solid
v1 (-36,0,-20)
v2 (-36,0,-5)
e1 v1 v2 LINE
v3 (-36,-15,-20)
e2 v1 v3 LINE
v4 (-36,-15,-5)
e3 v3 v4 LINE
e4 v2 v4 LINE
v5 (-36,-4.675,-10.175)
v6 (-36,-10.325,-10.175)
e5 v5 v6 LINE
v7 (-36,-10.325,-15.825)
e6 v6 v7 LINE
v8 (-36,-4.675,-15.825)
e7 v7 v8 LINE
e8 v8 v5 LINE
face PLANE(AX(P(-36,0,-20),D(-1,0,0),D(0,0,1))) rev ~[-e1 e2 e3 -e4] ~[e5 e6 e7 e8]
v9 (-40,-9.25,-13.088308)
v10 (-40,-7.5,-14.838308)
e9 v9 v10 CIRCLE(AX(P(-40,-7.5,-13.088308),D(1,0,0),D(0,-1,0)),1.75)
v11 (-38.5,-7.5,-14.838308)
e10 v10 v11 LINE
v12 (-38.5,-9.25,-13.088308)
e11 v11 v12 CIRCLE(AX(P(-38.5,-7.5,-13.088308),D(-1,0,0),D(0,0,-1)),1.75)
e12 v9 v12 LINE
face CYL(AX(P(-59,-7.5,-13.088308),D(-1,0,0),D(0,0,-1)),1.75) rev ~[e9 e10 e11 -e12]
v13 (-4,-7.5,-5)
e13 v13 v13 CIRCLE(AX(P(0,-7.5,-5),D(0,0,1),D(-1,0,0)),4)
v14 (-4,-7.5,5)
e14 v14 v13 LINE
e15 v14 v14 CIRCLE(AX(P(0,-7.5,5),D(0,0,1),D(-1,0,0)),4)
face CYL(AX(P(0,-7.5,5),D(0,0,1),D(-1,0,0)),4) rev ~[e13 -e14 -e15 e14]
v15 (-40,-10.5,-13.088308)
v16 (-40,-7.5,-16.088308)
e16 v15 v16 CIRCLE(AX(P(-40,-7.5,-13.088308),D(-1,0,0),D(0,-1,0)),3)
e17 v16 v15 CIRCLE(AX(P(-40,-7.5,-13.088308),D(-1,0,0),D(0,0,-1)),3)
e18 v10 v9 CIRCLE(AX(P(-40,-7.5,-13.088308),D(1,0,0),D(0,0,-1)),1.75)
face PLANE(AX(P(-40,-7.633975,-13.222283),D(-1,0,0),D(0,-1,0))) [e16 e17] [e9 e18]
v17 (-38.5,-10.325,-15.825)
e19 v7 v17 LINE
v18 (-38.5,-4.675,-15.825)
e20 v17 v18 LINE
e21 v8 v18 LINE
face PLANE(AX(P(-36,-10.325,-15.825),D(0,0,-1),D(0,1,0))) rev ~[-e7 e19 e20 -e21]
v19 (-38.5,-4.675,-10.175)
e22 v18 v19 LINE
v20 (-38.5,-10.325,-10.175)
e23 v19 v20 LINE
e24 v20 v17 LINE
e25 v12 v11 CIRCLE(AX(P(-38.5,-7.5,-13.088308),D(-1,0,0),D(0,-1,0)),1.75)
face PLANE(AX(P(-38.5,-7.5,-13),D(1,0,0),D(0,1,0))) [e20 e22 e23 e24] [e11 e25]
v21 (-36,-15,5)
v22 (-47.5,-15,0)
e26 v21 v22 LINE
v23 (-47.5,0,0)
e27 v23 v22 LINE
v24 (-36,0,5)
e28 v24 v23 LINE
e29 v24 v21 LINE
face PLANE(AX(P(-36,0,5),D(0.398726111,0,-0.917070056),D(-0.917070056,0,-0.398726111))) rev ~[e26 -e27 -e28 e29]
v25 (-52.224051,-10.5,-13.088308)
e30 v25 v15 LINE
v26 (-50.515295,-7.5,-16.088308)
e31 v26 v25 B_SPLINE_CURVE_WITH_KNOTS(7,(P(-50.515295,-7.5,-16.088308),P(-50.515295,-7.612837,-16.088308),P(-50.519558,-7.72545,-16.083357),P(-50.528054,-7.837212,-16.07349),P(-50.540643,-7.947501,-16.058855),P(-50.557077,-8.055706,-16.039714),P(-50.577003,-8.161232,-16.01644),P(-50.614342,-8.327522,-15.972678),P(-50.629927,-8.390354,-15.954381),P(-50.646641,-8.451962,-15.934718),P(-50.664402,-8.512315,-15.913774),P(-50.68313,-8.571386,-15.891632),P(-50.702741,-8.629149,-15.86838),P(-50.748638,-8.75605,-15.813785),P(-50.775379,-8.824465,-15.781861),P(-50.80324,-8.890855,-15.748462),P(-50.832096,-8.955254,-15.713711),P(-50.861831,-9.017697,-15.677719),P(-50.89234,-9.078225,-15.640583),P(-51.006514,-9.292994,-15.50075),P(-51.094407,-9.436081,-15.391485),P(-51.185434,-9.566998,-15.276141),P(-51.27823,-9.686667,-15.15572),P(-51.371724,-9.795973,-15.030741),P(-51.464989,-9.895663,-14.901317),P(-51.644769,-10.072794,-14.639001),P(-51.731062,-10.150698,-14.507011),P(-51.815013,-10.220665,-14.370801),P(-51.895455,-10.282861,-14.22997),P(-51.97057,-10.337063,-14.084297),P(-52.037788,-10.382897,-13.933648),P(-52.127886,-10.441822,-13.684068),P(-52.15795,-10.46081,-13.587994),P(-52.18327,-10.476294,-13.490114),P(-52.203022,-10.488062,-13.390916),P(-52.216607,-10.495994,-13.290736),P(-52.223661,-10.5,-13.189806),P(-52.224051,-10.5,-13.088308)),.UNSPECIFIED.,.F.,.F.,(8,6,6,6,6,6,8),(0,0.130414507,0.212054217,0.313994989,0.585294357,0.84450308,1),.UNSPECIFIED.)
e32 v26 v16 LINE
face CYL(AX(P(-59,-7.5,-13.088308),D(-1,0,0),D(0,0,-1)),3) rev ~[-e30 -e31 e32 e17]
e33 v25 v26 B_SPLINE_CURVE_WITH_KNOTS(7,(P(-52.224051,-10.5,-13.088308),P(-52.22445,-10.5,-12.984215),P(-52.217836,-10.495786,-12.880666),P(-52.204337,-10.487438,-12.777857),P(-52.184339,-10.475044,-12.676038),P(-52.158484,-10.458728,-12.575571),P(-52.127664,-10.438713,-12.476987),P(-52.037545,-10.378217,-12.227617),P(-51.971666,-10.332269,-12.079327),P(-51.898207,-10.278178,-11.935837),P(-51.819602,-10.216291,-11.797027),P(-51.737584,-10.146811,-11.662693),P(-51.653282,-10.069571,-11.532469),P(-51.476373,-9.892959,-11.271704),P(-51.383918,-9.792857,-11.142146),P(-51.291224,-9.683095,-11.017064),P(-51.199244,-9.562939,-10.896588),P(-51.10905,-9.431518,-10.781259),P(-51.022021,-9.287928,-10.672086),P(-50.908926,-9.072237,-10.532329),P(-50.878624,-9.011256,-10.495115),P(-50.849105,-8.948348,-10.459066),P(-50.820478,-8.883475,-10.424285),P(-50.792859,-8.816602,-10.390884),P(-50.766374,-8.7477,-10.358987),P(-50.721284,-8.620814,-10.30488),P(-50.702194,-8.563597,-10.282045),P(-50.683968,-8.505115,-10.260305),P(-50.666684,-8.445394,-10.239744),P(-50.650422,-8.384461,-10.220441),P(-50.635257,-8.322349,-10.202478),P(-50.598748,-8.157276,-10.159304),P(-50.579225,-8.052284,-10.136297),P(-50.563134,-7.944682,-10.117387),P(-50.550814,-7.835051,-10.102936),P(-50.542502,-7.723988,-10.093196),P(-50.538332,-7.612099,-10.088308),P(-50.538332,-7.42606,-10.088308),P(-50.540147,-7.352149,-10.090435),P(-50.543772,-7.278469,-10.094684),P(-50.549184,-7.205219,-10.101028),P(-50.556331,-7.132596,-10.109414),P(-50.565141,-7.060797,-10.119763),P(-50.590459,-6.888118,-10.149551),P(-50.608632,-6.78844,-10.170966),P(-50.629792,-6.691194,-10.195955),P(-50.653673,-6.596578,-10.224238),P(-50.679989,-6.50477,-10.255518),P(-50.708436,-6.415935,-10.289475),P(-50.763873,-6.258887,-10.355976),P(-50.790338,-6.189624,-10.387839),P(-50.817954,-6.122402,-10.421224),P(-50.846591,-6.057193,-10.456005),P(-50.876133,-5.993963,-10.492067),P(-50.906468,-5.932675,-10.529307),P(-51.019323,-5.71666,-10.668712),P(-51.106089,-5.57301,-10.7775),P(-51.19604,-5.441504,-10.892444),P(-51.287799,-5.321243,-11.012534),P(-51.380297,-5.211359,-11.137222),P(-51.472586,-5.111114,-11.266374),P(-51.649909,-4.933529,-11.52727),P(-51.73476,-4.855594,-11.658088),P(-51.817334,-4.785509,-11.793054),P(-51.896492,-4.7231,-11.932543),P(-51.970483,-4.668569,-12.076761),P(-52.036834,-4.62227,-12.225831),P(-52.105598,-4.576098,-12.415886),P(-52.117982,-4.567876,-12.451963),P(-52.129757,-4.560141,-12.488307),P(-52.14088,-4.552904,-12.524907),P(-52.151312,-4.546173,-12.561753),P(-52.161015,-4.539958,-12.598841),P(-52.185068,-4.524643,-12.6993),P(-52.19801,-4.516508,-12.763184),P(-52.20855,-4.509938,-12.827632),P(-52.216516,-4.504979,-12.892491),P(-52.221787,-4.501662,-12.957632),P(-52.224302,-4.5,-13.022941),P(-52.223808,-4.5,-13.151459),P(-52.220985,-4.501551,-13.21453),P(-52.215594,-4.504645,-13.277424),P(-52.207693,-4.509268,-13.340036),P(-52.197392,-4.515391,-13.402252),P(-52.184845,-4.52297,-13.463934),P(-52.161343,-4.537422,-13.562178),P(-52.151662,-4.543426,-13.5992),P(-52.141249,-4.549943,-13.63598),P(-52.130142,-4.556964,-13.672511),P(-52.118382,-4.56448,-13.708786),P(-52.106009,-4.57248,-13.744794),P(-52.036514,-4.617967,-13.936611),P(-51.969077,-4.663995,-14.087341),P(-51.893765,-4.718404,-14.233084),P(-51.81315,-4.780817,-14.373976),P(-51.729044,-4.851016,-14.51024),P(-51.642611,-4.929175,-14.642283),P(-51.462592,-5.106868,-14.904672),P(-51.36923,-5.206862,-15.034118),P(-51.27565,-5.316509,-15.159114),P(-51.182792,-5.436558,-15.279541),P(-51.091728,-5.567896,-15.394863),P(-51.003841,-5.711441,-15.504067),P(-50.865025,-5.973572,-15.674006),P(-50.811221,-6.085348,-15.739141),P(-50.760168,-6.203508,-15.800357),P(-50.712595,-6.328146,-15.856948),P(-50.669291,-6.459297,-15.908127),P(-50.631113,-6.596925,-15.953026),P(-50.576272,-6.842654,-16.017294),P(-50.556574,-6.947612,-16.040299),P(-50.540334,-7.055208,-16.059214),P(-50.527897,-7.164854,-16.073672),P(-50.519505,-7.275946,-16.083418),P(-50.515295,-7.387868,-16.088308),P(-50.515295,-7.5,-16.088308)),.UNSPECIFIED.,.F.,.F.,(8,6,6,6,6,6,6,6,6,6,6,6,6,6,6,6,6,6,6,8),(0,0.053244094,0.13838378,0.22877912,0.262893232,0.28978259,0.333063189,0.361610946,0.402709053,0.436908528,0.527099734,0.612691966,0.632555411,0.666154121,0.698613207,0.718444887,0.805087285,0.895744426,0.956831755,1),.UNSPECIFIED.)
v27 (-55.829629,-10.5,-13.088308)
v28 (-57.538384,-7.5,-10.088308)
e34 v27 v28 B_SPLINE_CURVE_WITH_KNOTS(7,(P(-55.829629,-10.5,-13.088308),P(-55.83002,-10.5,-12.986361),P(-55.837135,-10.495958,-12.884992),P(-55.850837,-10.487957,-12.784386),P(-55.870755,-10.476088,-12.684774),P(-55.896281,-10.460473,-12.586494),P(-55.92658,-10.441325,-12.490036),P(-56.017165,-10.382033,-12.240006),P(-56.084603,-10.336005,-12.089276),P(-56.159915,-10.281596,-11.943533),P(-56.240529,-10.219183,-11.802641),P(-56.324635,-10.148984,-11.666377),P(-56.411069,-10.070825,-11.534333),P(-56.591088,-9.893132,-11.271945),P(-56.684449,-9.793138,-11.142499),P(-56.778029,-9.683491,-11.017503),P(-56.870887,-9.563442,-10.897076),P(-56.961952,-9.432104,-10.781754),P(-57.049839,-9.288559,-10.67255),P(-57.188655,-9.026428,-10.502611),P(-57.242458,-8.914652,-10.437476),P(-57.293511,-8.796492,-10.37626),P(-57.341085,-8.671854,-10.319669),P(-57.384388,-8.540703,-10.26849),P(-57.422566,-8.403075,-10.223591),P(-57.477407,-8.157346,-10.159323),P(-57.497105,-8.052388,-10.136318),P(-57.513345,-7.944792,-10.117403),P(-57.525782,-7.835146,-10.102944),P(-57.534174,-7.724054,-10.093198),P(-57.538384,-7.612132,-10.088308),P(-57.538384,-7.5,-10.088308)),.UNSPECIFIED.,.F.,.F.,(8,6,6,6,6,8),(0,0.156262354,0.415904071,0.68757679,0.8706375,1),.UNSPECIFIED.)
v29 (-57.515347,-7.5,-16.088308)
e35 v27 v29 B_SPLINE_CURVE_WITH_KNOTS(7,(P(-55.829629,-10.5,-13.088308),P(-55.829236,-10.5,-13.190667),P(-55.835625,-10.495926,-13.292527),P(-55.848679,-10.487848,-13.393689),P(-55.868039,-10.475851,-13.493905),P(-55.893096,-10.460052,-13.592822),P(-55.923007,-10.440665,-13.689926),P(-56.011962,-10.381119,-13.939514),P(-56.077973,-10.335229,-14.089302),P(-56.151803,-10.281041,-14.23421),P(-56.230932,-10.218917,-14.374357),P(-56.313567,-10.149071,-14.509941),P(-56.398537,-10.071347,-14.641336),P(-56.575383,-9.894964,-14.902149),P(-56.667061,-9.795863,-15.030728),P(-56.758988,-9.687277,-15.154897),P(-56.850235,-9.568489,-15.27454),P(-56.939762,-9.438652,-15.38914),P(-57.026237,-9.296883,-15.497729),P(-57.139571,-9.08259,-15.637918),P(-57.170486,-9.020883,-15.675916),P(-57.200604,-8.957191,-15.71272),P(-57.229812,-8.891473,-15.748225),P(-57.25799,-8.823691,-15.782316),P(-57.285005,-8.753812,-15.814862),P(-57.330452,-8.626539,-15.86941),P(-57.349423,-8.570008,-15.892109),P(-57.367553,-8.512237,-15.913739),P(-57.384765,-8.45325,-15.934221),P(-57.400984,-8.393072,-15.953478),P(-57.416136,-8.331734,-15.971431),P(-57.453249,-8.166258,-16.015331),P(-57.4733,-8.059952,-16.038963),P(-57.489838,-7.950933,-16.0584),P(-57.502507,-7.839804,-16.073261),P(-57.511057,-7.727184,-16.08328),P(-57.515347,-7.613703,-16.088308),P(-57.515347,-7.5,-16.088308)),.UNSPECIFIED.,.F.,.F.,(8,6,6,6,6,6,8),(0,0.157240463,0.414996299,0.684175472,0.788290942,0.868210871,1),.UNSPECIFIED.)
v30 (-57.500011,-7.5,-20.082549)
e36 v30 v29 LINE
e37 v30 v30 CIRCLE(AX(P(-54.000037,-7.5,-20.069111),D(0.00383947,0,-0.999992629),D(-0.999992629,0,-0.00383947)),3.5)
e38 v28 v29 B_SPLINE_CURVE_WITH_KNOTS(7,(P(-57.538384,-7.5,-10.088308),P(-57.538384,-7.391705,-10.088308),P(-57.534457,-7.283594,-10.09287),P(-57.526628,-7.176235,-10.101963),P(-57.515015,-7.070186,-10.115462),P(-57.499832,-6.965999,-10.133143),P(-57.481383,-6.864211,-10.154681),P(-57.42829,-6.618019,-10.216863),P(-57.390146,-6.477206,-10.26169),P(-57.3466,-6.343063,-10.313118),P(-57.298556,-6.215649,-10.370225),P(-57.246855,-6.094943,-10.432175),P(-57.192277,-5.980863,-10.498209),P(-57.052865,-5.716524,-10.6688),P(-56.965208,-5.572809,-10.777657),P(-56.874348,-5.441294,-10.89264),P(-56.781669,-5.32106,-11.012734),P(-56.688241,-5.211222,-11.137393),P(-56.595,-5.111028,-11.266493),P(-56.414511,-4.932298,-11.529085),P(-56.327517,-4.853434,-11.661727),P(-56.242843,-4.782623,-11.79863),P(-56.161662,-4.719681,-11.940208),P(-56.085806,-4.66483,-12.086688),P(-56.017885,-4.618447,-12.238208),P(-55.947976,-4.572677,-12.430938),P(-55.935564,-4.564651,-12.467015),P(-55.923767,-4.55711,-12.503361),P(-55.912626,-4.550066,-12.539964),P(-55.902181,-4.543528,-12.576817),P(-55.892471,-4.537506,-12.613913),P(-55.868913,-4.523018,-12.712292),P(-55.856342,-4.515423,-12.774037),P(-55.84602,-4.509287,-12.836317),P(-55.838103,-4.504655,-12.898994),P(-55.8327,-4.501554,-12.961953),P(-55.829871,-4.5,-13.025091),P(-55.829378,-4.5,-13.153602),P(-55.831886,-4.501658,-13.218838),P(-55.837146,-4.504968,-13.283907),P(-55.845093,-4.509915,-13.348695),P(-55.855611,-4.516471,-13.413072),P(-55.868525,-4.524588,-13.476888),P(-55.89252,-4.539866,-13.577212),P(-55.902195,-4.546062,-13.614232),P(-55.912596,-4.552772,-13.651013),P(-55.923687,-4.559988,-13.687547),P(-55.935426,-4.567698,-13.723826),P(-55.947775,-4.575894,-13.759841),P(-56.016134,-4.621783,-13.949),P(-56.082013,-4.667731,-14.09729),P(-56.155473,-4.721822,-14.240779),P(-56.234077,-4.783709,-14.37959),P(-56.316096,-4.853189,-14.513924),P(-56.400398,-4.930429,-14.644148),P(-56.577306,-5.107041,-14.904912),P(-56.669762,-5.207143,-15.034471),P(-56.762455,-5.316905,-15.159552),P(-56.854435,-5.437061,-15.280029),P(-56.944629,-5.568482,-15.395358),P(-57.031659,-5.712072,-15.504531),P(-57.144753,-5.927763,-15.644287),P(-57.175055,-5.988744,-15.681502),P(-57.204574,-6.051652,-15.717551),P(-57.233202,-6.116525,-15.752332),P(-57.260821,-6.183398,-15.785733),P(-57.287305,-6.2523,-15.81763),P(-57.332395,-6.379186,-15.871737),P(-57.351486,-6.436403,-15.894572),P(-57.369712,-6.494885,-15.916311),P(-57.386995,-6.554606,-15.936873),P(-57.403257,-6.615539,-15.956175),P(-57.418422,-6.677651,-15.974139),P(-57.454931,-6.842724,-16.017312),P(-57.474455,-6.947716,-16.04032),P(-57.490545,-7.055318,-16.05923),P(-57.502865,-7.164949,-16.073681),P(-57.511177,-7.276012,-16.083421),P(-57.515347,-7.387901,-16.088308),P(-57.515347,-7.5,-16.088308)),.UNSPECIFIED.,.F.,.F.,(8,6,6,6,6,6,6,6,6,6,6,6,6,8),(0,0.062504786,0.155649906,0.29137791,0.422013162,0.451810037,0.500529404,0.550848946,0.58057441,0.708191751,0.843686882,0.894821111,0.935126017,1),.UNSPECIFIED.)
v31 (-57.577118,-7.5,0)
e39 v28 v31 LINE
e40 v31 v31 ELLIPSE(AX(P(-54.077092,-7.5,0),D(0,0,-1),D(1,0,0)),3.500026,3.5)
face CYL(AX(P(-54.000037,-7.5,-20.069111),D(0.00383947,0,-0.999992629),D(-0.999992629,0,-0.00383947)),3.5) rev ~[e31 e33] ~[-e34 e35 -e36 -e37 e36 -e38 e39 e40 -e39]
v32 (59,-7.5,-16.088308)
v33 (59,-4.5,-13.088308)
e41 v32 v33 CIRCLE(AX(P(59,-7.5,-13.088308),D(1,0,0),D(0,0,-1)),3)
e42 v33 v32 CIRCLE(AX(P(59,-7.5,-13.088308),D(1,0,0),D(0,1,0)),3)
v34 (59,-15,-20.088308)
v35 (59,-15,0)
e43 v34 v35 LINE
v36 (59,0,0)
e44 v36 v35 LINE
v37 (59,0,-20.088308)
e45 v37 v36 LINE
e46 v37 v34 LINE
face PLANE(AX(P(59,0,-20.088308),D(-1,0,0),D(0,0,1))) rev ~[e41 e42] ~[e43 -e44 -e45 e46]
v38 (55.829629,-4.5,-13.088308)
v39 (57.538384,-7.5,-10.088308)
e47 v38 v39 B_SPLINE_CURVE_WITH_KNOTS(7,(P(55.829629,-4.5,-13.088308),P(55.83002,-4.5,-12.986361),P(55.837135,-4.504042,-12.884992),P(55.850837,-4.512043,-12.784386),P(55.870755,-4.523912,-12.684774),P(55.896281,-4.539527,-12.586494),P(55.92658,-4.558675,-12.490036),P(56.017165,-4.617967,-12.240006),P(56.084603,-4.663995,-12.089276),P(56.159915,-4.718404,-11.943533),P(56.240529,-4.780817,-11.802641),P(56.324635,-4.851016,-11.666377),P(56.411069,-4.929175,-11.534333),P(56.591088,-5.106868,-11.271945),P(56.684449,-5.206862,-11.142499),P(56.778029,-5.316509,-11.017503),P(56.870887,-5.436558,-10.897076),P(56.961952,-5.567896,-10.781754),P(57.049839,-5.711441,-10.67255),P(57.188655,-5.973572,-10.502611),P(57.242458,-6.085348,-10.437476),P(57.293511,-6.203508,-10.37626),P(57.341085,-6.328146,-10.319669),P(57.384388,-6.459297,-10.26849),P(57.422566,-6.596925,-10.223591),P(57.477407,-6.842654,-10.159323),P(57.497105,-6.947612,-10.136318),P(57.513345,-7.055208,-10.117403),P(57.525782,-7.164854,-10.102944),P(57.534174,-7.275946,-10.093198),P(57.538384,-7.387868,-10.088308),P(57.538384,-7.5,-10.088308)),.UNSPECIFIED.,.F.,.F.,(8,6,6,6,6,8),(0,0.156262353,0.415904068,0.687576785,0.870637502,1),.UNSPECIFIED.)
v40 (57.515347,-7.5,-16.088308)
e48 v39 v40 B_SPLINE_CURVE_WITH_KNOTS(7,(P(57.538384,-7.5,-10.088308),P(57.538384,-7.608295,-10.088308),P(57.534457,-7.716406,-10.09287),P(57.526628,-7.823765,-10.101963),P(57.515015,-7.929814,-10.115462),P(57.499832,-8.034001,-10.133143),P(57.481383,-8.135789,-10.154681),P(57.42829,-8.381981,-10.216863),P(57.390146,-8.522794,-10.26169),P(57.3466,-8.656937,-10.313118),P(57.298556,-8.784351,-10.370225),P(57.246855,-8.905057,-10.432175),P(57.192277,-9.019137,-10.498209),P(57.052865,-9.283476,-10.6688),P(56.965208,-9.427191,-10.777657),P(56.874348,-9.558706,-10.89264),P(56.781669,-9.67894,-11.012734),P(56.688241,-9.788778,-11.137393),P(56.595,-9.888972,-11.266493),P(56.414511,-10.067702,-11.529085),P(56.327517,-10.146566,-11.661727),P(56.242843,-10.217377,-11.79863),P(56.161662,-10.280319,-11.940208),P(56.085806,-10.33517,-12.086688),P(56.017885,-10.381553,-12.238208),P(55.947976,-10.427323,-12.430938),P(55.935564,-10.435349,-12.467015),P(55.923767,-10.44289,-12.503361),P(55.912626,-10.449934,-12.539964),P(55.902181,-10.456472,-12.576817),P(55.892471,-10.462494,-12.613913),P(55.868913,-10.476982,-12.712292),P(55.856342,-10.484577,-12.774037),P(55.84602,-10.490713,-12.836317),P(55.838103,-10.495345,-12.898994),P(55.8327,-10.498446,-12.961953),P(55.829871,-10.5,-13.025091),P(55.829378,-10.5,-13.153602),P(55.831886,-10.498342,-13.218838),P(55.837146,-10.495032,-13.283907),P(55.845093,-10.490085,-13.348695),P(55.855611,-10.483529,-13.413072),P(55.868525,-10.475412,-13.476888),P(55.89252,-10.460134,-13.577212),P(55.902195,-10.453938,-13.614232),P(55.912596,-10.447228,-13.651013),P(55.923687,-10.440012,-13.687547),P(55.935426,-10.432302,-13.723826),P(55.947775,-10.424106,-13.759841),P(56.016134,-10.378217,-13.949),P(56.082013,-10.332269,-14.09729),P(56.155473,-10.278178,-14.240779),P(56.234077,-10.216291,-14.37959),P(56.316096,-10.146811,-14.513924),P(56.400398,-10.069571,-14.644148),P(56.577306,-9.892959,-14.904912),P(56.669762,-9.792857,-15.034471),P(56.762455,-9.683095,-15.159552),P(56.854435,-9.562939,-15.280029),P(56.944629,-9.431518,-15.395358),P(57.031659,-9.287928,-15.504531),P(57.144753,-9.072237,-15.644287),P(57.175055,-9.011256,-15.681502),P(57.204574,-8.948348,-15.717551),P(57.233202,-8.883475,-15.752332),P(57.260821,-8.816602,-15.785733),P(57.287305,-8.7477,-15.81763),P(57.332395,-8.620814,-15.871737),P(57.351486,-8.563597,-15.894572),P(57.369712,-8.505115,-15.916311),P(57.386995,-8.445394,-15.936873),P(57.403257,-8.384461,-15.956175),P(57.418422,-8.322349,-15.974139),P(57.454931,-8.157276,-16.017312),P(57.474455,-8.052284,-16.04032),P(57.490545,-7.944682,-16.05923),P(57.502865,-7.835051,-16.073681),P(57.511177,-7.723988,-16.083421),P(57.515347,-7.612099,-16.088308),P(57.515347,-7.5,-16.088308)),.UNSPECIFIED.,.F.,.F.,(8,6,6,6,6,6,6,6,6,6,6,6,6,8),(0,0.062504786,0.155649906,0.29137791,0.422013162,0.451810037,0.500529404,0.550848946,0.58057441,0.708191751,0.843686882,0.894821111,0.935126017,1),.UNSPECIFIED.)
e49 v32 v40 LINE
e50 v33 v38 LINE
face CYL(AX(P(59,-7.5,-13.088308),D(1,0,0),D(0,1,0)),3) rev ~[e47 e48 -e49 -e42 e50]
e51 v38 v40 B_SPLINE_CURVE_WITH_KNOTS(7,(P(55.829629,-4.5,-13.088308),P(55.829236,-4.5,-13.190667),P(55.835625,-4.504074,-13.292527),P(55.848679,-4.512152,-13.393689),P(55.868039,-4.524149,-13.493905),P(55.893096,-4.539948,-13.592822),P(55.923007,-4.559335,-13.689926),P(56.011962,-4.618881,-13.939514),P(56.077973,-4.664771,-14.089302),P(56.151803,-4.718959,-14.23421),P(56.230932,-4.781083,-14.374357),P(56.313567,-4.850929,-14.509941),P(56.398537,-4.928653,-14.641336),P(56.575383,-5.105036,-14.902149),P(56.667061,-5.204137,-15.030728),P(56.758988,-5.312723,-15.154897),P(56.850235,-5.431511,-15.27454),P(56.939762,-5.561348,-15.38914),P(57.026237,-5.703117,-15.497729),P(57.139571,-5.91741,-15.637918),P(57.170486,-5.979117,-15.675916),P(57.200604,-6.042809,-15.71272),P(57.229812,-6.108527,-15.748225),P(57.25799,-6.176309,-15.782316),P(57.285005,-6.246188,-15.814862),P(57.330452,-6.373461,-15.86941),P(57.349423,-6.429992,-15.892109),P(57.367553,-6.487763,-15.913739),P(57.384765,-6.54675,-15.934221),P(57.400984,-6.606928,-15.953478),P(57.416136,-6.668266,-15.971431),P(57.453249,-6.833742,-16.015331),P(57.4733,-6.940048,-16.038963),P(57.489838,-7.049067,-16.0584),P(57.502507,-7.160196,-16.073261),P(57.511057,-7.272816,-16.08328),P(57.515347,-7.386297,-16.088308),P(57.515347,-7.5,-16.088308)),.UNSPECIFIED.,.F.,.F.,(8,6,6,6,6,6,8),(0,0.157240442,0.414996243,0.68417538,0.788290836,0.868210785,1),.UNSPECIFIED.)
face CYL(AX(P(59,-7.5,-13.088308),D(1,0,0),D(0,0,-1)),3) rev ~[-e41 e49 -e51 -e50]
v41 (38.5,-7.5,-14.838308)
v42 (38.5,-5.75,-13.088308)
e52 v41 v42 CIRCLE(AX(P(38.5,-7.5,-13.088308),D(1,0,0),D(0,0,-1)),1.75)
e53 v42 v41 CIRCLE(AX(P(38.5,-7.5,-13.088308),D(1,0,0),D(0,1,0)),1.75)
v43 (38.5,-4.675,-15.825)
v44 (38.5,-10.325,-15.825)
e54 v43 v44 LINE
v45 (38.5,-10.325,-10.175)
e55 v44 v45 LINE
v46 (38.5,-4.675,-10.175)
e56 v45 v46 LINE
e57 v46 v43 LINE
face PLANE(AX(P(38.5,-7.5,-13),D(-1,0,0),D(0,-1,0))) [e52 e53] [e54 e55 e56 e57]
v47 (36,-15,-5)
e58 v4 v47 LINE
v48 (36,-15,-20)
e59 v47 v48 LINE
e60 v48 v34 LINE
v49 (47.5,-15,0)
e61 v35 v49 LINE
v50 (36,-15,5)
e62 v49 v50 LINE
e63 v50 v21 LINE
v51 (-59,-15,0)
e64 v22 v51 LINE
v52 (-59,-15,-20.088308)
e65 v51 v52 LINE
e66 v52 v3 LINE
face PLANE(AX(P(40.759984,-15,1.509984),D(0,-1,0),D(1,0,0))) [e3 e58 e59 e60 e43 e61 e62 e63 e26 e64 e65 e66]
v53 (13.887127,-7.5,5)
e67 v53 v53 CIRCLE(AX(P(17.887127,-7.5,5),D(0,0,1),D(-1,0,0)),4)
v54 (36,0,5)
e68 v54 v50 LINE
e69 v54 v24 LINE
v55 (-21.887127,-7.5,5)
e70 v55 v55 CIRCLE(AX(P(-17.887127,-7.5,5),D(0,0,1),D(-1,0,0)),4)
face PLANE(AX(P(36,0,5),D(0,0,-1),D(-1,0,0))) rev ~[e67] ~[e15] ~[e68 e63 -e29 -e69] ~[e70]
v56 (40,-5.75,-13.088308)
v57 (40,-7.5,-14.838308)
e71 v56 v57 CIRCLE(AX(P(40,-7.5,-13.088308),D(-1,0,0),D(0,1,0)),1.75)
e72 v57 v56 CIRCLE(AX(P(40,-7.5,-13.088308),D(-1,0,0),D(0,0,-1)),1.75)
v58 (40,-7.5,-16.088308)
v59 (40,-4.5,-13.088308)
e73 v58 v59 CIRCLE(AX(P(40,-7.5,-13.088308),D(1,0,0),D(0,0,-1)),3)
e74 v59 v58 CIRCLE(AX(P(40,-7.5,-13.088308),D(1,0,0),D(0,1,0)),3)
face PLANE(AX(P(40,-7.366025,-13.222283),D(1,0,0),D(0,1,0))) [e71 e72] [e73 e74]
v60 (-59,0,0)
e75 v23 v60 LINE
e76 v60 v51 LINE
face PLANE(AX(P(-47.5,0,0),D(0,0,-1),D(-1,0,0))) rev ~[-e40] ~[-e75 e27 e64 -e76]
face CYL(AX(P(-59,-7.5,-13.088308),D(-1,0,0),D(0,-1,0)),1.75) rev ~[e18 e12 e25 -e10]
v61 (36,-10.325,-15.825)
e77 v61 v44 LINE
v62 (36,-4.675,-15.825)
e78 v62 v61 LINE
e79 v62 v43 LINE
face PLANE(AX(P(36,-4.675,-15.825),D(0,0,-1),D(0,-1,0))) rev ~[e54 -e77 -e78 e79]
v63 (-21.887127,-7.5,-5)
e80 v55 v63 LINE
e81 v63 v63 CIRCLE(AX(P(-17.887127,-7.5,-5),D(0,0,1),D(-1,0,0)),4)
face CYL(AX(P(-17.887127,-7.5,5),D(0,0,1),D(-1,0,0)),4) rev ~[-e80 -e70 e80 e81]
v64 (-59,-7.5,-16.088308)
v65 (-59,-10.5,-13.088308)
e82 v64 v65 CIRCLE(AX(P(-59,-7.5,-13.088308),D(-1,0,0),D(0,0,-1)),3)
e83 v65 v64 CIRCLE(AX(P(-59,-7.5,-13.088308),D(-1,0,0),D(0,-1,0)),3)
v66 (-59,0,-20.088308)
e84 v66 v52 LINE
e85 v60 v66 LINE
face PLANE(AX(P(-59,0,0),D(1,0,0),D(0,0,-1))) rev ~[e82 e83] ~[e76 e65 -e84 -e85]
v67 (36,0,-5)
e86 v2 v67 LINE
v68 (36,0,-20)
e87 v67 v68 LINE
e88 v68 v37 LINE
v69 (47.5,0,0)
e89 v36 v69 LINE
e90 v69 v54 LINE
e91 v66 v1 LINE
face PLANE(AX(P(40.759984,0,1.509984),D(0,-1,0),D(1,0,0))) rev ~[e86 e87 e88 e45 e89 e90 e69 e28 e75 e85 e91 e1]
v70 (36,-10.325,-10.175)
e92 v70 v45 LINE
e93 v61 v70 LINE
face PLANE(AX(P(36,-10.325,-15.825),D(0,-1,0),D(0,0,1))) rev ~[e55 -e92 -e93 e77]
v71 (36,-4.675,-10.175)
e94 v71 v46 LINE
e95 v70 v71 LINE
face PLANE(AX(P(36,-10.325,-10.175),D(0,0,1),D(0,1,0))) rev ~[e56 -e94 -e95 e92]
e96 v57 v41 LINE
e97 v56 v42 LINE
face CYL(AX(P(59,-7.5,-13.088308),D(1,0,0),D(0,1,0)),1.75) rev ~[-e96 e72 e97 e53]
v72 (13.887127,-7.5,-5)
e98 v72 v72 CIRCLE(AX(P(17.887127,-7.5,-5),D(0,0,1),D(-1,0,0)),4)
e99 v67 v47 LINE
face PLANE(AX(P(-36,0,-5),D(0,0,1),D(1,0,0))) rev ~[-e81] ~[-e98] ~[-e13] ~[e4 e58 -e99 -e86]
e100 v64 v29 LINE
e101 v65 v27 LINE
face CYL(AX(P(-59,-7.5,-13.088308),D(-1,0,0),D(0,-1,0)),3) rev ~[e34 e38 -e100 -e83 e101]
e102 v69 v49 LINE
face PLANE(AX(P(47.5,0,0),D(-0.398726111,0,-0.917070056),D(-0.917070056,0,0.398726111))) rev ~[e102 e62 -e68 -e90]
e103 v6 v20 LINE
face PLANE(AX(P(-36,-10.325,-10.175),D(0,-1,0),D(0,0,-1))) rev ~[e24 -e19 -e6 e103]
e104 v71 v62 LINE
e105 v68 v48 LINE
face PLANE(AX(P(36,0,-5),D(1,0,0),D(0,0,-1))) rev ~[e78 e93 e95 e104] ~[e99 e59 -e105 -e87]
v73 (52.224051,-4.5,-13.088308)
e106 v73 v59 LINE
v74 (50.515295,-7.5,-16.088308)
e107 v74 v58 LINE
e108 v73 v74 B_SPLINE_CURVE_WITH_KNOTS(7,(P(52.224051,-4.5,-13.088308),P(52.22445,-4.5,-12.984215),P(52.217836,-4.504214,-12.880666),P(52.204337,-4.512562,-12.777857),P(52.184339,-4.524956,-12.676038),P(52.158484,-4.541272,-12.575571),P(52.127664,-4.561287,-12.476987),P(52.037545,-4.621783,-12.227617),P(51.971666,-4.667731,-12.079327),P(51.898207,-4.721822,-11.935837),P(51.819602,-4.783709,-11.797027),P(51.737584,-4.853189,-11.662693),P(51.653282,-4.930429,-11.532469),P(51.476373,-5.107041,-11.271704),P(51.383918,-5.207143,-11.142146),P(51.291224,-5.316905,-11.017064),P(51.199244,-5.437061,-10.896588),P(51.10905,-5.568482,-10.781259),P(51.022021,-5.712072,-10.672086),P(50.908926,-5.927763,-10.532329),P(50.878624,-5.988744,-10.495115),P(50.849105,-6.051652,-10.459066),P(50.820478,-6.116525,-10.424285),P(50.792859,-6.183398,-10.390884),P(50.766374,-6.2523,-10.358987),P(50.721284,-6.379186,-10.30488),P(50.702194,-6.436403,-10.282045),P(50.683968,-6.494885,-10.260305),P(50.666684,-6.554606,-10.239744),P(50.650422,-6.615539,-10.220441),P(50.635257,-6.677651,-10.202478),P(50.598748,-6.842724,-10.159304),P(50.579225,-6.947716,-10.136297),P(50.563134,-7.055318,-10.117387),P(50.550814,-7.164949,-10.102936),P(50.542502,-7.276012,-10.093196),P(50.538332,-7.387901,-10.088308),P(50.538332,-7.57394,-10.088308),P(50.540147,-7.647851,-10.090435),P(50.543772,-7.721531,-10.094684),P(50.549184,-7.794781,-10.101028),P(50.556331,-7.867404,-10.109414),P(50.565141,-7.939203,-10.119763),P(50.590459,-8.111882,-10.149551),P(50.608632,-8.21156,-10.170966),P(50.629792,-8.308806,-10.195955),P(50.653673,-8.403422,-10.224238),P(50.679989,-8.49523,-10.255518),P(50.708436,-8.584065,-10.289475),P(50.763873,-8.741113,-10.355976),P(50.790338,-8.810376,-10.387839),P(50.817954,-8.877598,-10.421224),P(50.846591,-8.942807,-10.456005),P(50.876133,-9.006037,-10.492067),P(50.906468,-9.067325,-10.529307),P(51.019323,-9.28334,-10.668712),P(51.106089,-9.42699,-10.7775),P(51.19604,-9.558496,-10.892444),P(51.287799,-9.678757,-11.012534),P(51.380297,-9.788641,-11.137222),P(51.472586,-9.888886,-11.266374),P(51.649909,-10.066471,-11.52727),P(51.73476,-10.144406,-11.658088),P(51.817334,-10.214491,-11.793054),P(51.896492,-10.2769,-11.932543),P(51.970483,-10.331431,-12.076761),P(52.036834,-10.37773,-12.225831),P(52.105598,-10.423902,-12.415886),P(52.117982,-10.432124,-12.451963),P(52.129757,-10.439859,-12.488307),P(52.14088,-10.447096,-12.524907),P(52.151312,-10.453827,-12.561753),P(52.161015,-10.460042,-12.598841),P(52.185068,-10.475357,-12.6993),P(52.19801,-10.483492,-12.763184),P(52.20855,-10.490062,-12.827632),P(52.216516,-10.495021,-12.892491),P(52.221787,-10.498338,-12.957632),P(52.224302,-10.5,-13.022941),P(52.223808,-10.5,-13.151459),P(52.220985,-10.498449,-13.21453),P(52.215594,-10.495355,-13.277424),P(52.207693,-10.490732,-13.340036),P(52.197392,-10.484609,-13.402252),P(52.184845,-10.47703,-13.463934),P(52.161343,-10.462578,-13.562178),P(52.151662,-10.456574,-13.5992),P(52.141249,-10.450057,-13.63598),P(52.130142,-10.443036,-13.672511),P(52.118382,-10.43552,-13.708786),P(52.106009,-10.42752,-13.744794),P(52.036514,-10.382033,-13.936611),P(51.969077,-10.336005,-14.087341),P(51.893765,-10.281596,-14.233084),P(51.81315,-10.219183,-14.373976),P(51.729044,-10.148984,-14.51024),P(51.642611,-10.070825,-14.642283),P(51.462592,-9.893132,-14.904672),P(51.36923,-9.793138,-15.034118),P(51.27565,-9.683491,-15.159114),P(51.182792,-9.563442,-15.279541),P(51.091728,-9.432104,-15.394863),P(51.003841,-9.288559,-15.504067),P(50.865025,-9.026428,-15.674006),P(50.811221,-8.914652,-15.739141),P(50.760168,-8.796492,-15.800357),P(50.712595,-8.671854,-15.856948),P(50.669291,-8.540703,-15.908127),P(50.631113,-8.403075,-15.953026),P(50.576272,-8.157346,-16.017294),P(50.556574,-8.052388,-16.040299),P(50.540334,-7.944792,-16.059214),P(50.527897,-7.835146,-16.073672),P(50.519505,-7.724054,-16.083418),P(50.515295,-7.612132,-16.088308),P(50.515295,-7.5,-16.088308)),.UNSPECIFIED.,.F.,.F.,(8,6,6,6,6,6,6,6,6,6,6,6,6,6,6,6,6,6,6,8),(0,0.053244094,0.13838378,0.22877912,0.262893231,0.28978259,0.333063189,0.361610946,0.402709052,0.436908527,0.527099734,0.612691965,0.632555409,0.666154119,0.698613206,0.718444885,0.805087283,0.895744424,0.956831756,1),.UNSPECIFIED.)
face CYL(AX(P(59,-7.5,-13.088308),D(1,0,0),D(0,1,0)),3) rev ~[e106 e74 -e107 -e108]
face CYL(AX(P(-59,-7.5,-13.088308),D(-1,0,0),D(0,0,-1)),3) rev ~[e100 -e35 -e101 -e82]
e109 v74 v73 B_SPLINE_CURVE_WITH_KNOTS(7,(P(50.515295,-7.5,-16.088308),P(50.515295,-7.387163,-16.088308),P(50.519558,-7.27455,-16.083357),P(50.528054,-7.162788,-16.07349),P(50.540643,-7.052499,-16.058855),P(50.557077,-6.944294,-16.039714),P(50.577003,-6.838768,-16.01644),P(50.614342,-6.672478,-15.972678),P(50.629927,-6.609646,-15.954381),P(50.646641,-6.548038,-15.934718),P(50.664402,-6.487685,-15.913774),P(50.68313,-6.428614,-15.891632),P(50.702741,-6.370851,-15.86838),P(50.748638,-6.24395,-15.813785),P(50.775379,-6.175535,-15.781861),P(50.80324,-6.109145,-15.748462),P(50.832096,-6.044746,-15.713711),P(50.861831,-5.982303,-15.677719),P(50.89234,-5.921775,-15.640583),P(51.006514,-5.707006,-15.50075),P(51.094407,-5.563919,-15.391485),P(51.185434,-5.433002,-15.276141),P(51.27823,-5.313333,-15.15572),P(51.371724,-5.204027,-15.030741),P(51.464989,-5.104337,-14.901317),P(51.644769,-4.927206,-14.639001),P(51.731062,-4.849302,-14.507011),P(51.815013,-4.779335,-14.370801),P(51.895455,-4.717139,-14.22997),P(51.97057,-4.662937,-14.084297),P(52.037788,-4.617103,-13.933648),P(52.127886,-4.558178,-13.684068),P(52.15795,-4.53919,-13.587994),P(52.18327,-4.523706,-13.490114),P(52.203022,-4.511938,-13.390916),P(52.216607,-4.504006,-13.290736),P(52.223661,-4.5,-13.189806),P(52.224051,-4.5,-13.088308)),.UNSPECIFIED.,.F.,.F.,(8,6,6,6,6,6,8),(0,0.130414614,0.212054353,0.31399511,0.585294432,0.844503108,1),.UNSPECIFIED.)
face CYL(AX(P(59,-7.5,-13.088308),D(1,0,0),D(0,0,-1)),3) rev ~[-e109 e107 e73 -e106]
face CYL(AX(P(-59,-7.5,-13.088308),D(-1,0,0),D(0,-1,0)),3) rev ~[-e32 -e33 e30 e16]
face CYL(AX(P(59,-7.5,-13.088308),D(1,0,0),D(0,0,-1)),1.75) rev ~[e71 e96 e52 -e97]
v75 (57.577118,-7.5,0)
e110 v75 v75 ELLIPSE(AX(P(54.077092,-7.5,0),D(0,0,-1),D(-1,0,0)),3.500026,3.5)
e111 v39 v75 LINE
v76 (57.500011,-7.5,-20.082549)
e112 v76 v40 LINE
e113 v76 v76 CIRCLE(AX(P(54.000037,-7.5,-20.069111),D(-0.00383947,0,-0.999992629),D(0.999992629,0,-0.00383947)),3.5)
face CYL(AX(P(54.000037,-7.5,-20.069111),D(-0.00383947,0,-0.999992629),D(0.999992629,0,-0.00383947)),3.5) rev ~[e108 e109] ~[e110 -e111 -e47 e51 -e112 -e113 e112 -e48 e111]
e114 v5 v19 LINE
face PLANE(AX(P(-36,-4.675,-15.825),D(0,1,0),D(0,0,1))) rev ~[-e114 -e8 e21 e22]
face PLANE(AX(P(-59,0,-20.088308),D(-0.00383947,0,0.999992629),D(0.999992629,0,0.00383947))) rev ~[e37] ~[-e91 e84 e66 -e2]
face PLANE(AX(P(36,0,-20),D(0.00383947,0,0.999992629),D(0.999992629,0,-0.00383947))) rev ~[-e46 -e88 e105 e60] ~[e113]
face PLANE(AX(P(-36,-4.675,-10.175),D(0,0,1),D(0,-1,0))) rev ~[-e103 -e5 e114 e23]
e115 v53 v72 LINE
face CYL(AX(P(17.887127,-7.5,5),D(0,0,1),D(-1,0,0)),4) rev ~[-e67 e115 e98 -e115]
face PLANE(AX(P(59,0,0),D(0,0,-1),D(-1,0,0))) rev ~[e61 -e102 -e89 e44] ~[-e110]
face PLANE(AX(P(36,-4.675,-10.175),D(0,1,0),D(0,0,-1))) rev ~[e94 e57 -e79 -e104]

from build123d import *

# Parameters (mm, degrees)
F1_DEPTH  = 15
F5_DEPTH  = 23
F6_DEPTH  = 19
F2_R      = 3.5
F7_DEPTH  = 25
F8_DEPTH  = 2.5
F12_DEPTH = 19
F13_DEPTH = 23
F14_DEPTH = 2.5
F15_DEPTH = 25
F17_DEPTH = 25


with BuildPart() as f1:
    # F0 (on Front) → F1 (new body)
    with BuildSketch(Plane.XZ):
        Polygon((47.5, 0), (36, 5), (36, 2.5), (36, 0), align=None)
        Polygon((-36, -20), (-36, -5), (-59, -5), (-59, -20.0883084536), align=None)
        Polygon((-36, -5), (-36, 0), (-47.5, 0), (-59, 0), (-59, -5), align=None)
        Polygon((-36, 0), (-36, 5), (-47.5, 0), align=None)
        Polygon((36, 5), (-36, 5), (-36, 0), (-36, -5), (36, -5), (36, 0), (36, 2.5), align=None)
        Polygon((59, 0), (47.5, 0), (36, 0), (36, -5), (36, -20), (59, -20.0883084536), (59, -5), align=None)
    extrude(amount=F1_DEPTH)

    # F3 (on face) → F5 (cut)
    with BuildSketch(Plane.YZ.offset(59)):
        with BuildLine():
            ThreePointArc((-5.75, -13.0883084536), (-8.7374368671, -11.8508715865), (-7.5, -14.8383084536))
            ThreePointArc((-7.5, -14.8383084536), (-6.2625631329, -14.3257453206), (-5.75, -13.0883084536))
        make_face()
    extrude(amount=-F5_DEPTH, mode=Mode.SUBTRACT)

    # F3 (on face) → F6 (cut)
    with BuildSketch(Plane.YZ.offset(59)):
        with BuildLine():
            ThreePointArc((-4.5, -13.0883084536), (-9.6213203436, -10.96698811), (-7.5, -16.0883084536))
            ThreePointArc((-7.5, -16.0883084536), (-5.3786796564, -15.2096287971), (-4.5, -13.0883084536))
        make_face()
        with BuildLine():
            ThreePointArc((-5.75, -13.0883084536), (-6.2625631329, -14.3257453206), (-7.5, -14.8383084536))
            ThreePointArc((-7.5, -14.8383084536), (-8.7374368671, -11.8508715865), (-5.75, -13.0883084536))
        make_face(mode=Mode.SUBTRACT)
    extrude(amount=-F6_DEPTH, mode=Mode.SUBTRACT)

    # F2 (on face) → F7 (cut)
    with BuildSketch(Plane(origin=(-0.0762581326, 0, -19.8614852797), x_dir=(0.9999926292, 0, -0.0038394697), z_dir=(-0.0038394697, 0, -0.9999926292))):
        with Locations((54.0766935746, 7.5)):
            Circle(F2_R)
    extrude(amount=-F7_DEPTH, mode=Mode.SUBTRACT)

    # F4 (on face) → F8 (cut)
    with BuildSketch(Plane(origin=(36, 0, 0), x_dir=(0, -1, 0), z_dir=(-1, 0, 0))):
        Polygon((4.675, -15.825), (7.5, -15.825), (10.325, -15.825), (10.325, -10.175), (4.675, -10.175), align=None)
    extrude(amount=-F8_DEPTH, mode=Mode.SUBTRACT)

    # F9 (on face) → F12 (cut)
    with BuildSketch(Plane(origin=(-59, 0, 0), x_dir=(0, -1, 0), z_dir=(-1, 0, 0))):
        with BuildLine():
            ThreePointArc((10.5, -13.0883084536), (5.3786796564, -10.96698811), (7.5, -16.0883084536))
            ThreePointArc((7.5, -16.0883084536), (9.6213203436, -15.2096287971), (10.5, -13.0883084536))
        make_face()
        with BuildLine():
            ThreePointArc((9.25, -13.0883084536), (8.7374368671, -14.3257453206), (7.5, -14.8383084536))
            ThreePointArc((7.5, -14.8383084536), (6.2625631329, -11.8508715865), (9.25, -13.0883084536))
        make_face(mode=Mode.SUBTRACT)
    extrude(amount=-F12_DEPTH, mode=Mode.SUBTRACT)

    # F9 (on face) → F13 (cut)
    with BuildSketch(Plane(origin=(-59, 0, 0), x_dir=(0, -1, 0), z_dir=(-1, 0, 0))):
        with BuildLine():
            ThreePointArc((9.25, -13.0883084536), (6.2625631329, -11.8508715865), (7.5, -14.8383084536))
            ThreePointArc((7.5, -14.8383084536), (8.7374368671, -14.3257453206), (9.25, -13.0883084536))
        make_face()
    extrude(amount=-F13_DEPTH, mode=Mode.SUBTRACT)

    # F10 (on face) → F14 (cut)
    with BuildSketch(Plane.YZ.offset(-36)):
        Polygon((-10.325, -15.825), (-7.5, -15.825), (-4.675, -15.825), (-4.675, -10.175), (-10.325, -10.175), align=None)
    extrude(amount=-F14_DEPTH, mode=Mode.SUBTRACT)

    # F11 (on face) → F15 (cut)
    with BuildSketch(Plane(origin=(0.0762581326, 0, -19.8614852797), x_dir=(0.9999926292, 0, 0.0038394697), z_dir=(0.0038394697, 0, -0.9999926292))):
        with BuildLine():
            ThreePointArc((-50.5766935746, 7.5), (-54.0766935746, 11), (-57.5766935746, 7.5))
            ThreePointArc((-57.5766935746, 7.5), (-54.0766935746, 4), (-50.5766935746, 7.5))
        make_face()
    extrude(amount=-F15_DEPTH, mode=Mode.SUBTRACT)

    # F16 (on face) → F17 (cut)
    with BuildSketch(Plane.XY.offset(5)):
        with BuildLine():
            ThreePointArc((-13.8871266544, -7.5), (-17.8871266544, -3.5), (-21.8871266544, -7.5))
            Line((-21.8871266544, -7.5), (-13.8871266544, -7.5))
        make_face()
        with BuildLine():
            ThreePointArc((21.8871266544, -7.5), (17.8871266544, -3.5), (13.8871266544, -7.5))
            Line((13.8871266544, -7.5), (21.8871266544, -7.5))
        make_face()
        with BuildLine():
            Line((21.8871266544, -7.5), (13.8871266544, -7.5))
            ThreePointArc((13.8871266544, -7.5), (17.8871266544, -11.5), (21.8871266544, -7.5))
        make_face()
        with BuildLine():
            ThreePointArc((4, -7.5), (0, -3.5), (-4, -7.5))
            Line((-4, -7.5), (4, -7.5))
        make_face()
        with BuildLine():
            Line((4, -7.5), (-4, -7.5))
            ThreePointArc((-4, -7.5), (0, -11.5), (4, -7.5))
        make_face()
        with BuildLine():
            Line((-13.8871266544, -7.5), (-21.8871266544, -7.5))
            ThreePointArc((-21.8871266544, -7.5), (-17.8871266544, -11.5), (-13.8871266544, -7.5))
        make_face()
    extrude(amount=-F17_DEPTH, mode=Mode.SUBTRACT)


solid = f1.part
